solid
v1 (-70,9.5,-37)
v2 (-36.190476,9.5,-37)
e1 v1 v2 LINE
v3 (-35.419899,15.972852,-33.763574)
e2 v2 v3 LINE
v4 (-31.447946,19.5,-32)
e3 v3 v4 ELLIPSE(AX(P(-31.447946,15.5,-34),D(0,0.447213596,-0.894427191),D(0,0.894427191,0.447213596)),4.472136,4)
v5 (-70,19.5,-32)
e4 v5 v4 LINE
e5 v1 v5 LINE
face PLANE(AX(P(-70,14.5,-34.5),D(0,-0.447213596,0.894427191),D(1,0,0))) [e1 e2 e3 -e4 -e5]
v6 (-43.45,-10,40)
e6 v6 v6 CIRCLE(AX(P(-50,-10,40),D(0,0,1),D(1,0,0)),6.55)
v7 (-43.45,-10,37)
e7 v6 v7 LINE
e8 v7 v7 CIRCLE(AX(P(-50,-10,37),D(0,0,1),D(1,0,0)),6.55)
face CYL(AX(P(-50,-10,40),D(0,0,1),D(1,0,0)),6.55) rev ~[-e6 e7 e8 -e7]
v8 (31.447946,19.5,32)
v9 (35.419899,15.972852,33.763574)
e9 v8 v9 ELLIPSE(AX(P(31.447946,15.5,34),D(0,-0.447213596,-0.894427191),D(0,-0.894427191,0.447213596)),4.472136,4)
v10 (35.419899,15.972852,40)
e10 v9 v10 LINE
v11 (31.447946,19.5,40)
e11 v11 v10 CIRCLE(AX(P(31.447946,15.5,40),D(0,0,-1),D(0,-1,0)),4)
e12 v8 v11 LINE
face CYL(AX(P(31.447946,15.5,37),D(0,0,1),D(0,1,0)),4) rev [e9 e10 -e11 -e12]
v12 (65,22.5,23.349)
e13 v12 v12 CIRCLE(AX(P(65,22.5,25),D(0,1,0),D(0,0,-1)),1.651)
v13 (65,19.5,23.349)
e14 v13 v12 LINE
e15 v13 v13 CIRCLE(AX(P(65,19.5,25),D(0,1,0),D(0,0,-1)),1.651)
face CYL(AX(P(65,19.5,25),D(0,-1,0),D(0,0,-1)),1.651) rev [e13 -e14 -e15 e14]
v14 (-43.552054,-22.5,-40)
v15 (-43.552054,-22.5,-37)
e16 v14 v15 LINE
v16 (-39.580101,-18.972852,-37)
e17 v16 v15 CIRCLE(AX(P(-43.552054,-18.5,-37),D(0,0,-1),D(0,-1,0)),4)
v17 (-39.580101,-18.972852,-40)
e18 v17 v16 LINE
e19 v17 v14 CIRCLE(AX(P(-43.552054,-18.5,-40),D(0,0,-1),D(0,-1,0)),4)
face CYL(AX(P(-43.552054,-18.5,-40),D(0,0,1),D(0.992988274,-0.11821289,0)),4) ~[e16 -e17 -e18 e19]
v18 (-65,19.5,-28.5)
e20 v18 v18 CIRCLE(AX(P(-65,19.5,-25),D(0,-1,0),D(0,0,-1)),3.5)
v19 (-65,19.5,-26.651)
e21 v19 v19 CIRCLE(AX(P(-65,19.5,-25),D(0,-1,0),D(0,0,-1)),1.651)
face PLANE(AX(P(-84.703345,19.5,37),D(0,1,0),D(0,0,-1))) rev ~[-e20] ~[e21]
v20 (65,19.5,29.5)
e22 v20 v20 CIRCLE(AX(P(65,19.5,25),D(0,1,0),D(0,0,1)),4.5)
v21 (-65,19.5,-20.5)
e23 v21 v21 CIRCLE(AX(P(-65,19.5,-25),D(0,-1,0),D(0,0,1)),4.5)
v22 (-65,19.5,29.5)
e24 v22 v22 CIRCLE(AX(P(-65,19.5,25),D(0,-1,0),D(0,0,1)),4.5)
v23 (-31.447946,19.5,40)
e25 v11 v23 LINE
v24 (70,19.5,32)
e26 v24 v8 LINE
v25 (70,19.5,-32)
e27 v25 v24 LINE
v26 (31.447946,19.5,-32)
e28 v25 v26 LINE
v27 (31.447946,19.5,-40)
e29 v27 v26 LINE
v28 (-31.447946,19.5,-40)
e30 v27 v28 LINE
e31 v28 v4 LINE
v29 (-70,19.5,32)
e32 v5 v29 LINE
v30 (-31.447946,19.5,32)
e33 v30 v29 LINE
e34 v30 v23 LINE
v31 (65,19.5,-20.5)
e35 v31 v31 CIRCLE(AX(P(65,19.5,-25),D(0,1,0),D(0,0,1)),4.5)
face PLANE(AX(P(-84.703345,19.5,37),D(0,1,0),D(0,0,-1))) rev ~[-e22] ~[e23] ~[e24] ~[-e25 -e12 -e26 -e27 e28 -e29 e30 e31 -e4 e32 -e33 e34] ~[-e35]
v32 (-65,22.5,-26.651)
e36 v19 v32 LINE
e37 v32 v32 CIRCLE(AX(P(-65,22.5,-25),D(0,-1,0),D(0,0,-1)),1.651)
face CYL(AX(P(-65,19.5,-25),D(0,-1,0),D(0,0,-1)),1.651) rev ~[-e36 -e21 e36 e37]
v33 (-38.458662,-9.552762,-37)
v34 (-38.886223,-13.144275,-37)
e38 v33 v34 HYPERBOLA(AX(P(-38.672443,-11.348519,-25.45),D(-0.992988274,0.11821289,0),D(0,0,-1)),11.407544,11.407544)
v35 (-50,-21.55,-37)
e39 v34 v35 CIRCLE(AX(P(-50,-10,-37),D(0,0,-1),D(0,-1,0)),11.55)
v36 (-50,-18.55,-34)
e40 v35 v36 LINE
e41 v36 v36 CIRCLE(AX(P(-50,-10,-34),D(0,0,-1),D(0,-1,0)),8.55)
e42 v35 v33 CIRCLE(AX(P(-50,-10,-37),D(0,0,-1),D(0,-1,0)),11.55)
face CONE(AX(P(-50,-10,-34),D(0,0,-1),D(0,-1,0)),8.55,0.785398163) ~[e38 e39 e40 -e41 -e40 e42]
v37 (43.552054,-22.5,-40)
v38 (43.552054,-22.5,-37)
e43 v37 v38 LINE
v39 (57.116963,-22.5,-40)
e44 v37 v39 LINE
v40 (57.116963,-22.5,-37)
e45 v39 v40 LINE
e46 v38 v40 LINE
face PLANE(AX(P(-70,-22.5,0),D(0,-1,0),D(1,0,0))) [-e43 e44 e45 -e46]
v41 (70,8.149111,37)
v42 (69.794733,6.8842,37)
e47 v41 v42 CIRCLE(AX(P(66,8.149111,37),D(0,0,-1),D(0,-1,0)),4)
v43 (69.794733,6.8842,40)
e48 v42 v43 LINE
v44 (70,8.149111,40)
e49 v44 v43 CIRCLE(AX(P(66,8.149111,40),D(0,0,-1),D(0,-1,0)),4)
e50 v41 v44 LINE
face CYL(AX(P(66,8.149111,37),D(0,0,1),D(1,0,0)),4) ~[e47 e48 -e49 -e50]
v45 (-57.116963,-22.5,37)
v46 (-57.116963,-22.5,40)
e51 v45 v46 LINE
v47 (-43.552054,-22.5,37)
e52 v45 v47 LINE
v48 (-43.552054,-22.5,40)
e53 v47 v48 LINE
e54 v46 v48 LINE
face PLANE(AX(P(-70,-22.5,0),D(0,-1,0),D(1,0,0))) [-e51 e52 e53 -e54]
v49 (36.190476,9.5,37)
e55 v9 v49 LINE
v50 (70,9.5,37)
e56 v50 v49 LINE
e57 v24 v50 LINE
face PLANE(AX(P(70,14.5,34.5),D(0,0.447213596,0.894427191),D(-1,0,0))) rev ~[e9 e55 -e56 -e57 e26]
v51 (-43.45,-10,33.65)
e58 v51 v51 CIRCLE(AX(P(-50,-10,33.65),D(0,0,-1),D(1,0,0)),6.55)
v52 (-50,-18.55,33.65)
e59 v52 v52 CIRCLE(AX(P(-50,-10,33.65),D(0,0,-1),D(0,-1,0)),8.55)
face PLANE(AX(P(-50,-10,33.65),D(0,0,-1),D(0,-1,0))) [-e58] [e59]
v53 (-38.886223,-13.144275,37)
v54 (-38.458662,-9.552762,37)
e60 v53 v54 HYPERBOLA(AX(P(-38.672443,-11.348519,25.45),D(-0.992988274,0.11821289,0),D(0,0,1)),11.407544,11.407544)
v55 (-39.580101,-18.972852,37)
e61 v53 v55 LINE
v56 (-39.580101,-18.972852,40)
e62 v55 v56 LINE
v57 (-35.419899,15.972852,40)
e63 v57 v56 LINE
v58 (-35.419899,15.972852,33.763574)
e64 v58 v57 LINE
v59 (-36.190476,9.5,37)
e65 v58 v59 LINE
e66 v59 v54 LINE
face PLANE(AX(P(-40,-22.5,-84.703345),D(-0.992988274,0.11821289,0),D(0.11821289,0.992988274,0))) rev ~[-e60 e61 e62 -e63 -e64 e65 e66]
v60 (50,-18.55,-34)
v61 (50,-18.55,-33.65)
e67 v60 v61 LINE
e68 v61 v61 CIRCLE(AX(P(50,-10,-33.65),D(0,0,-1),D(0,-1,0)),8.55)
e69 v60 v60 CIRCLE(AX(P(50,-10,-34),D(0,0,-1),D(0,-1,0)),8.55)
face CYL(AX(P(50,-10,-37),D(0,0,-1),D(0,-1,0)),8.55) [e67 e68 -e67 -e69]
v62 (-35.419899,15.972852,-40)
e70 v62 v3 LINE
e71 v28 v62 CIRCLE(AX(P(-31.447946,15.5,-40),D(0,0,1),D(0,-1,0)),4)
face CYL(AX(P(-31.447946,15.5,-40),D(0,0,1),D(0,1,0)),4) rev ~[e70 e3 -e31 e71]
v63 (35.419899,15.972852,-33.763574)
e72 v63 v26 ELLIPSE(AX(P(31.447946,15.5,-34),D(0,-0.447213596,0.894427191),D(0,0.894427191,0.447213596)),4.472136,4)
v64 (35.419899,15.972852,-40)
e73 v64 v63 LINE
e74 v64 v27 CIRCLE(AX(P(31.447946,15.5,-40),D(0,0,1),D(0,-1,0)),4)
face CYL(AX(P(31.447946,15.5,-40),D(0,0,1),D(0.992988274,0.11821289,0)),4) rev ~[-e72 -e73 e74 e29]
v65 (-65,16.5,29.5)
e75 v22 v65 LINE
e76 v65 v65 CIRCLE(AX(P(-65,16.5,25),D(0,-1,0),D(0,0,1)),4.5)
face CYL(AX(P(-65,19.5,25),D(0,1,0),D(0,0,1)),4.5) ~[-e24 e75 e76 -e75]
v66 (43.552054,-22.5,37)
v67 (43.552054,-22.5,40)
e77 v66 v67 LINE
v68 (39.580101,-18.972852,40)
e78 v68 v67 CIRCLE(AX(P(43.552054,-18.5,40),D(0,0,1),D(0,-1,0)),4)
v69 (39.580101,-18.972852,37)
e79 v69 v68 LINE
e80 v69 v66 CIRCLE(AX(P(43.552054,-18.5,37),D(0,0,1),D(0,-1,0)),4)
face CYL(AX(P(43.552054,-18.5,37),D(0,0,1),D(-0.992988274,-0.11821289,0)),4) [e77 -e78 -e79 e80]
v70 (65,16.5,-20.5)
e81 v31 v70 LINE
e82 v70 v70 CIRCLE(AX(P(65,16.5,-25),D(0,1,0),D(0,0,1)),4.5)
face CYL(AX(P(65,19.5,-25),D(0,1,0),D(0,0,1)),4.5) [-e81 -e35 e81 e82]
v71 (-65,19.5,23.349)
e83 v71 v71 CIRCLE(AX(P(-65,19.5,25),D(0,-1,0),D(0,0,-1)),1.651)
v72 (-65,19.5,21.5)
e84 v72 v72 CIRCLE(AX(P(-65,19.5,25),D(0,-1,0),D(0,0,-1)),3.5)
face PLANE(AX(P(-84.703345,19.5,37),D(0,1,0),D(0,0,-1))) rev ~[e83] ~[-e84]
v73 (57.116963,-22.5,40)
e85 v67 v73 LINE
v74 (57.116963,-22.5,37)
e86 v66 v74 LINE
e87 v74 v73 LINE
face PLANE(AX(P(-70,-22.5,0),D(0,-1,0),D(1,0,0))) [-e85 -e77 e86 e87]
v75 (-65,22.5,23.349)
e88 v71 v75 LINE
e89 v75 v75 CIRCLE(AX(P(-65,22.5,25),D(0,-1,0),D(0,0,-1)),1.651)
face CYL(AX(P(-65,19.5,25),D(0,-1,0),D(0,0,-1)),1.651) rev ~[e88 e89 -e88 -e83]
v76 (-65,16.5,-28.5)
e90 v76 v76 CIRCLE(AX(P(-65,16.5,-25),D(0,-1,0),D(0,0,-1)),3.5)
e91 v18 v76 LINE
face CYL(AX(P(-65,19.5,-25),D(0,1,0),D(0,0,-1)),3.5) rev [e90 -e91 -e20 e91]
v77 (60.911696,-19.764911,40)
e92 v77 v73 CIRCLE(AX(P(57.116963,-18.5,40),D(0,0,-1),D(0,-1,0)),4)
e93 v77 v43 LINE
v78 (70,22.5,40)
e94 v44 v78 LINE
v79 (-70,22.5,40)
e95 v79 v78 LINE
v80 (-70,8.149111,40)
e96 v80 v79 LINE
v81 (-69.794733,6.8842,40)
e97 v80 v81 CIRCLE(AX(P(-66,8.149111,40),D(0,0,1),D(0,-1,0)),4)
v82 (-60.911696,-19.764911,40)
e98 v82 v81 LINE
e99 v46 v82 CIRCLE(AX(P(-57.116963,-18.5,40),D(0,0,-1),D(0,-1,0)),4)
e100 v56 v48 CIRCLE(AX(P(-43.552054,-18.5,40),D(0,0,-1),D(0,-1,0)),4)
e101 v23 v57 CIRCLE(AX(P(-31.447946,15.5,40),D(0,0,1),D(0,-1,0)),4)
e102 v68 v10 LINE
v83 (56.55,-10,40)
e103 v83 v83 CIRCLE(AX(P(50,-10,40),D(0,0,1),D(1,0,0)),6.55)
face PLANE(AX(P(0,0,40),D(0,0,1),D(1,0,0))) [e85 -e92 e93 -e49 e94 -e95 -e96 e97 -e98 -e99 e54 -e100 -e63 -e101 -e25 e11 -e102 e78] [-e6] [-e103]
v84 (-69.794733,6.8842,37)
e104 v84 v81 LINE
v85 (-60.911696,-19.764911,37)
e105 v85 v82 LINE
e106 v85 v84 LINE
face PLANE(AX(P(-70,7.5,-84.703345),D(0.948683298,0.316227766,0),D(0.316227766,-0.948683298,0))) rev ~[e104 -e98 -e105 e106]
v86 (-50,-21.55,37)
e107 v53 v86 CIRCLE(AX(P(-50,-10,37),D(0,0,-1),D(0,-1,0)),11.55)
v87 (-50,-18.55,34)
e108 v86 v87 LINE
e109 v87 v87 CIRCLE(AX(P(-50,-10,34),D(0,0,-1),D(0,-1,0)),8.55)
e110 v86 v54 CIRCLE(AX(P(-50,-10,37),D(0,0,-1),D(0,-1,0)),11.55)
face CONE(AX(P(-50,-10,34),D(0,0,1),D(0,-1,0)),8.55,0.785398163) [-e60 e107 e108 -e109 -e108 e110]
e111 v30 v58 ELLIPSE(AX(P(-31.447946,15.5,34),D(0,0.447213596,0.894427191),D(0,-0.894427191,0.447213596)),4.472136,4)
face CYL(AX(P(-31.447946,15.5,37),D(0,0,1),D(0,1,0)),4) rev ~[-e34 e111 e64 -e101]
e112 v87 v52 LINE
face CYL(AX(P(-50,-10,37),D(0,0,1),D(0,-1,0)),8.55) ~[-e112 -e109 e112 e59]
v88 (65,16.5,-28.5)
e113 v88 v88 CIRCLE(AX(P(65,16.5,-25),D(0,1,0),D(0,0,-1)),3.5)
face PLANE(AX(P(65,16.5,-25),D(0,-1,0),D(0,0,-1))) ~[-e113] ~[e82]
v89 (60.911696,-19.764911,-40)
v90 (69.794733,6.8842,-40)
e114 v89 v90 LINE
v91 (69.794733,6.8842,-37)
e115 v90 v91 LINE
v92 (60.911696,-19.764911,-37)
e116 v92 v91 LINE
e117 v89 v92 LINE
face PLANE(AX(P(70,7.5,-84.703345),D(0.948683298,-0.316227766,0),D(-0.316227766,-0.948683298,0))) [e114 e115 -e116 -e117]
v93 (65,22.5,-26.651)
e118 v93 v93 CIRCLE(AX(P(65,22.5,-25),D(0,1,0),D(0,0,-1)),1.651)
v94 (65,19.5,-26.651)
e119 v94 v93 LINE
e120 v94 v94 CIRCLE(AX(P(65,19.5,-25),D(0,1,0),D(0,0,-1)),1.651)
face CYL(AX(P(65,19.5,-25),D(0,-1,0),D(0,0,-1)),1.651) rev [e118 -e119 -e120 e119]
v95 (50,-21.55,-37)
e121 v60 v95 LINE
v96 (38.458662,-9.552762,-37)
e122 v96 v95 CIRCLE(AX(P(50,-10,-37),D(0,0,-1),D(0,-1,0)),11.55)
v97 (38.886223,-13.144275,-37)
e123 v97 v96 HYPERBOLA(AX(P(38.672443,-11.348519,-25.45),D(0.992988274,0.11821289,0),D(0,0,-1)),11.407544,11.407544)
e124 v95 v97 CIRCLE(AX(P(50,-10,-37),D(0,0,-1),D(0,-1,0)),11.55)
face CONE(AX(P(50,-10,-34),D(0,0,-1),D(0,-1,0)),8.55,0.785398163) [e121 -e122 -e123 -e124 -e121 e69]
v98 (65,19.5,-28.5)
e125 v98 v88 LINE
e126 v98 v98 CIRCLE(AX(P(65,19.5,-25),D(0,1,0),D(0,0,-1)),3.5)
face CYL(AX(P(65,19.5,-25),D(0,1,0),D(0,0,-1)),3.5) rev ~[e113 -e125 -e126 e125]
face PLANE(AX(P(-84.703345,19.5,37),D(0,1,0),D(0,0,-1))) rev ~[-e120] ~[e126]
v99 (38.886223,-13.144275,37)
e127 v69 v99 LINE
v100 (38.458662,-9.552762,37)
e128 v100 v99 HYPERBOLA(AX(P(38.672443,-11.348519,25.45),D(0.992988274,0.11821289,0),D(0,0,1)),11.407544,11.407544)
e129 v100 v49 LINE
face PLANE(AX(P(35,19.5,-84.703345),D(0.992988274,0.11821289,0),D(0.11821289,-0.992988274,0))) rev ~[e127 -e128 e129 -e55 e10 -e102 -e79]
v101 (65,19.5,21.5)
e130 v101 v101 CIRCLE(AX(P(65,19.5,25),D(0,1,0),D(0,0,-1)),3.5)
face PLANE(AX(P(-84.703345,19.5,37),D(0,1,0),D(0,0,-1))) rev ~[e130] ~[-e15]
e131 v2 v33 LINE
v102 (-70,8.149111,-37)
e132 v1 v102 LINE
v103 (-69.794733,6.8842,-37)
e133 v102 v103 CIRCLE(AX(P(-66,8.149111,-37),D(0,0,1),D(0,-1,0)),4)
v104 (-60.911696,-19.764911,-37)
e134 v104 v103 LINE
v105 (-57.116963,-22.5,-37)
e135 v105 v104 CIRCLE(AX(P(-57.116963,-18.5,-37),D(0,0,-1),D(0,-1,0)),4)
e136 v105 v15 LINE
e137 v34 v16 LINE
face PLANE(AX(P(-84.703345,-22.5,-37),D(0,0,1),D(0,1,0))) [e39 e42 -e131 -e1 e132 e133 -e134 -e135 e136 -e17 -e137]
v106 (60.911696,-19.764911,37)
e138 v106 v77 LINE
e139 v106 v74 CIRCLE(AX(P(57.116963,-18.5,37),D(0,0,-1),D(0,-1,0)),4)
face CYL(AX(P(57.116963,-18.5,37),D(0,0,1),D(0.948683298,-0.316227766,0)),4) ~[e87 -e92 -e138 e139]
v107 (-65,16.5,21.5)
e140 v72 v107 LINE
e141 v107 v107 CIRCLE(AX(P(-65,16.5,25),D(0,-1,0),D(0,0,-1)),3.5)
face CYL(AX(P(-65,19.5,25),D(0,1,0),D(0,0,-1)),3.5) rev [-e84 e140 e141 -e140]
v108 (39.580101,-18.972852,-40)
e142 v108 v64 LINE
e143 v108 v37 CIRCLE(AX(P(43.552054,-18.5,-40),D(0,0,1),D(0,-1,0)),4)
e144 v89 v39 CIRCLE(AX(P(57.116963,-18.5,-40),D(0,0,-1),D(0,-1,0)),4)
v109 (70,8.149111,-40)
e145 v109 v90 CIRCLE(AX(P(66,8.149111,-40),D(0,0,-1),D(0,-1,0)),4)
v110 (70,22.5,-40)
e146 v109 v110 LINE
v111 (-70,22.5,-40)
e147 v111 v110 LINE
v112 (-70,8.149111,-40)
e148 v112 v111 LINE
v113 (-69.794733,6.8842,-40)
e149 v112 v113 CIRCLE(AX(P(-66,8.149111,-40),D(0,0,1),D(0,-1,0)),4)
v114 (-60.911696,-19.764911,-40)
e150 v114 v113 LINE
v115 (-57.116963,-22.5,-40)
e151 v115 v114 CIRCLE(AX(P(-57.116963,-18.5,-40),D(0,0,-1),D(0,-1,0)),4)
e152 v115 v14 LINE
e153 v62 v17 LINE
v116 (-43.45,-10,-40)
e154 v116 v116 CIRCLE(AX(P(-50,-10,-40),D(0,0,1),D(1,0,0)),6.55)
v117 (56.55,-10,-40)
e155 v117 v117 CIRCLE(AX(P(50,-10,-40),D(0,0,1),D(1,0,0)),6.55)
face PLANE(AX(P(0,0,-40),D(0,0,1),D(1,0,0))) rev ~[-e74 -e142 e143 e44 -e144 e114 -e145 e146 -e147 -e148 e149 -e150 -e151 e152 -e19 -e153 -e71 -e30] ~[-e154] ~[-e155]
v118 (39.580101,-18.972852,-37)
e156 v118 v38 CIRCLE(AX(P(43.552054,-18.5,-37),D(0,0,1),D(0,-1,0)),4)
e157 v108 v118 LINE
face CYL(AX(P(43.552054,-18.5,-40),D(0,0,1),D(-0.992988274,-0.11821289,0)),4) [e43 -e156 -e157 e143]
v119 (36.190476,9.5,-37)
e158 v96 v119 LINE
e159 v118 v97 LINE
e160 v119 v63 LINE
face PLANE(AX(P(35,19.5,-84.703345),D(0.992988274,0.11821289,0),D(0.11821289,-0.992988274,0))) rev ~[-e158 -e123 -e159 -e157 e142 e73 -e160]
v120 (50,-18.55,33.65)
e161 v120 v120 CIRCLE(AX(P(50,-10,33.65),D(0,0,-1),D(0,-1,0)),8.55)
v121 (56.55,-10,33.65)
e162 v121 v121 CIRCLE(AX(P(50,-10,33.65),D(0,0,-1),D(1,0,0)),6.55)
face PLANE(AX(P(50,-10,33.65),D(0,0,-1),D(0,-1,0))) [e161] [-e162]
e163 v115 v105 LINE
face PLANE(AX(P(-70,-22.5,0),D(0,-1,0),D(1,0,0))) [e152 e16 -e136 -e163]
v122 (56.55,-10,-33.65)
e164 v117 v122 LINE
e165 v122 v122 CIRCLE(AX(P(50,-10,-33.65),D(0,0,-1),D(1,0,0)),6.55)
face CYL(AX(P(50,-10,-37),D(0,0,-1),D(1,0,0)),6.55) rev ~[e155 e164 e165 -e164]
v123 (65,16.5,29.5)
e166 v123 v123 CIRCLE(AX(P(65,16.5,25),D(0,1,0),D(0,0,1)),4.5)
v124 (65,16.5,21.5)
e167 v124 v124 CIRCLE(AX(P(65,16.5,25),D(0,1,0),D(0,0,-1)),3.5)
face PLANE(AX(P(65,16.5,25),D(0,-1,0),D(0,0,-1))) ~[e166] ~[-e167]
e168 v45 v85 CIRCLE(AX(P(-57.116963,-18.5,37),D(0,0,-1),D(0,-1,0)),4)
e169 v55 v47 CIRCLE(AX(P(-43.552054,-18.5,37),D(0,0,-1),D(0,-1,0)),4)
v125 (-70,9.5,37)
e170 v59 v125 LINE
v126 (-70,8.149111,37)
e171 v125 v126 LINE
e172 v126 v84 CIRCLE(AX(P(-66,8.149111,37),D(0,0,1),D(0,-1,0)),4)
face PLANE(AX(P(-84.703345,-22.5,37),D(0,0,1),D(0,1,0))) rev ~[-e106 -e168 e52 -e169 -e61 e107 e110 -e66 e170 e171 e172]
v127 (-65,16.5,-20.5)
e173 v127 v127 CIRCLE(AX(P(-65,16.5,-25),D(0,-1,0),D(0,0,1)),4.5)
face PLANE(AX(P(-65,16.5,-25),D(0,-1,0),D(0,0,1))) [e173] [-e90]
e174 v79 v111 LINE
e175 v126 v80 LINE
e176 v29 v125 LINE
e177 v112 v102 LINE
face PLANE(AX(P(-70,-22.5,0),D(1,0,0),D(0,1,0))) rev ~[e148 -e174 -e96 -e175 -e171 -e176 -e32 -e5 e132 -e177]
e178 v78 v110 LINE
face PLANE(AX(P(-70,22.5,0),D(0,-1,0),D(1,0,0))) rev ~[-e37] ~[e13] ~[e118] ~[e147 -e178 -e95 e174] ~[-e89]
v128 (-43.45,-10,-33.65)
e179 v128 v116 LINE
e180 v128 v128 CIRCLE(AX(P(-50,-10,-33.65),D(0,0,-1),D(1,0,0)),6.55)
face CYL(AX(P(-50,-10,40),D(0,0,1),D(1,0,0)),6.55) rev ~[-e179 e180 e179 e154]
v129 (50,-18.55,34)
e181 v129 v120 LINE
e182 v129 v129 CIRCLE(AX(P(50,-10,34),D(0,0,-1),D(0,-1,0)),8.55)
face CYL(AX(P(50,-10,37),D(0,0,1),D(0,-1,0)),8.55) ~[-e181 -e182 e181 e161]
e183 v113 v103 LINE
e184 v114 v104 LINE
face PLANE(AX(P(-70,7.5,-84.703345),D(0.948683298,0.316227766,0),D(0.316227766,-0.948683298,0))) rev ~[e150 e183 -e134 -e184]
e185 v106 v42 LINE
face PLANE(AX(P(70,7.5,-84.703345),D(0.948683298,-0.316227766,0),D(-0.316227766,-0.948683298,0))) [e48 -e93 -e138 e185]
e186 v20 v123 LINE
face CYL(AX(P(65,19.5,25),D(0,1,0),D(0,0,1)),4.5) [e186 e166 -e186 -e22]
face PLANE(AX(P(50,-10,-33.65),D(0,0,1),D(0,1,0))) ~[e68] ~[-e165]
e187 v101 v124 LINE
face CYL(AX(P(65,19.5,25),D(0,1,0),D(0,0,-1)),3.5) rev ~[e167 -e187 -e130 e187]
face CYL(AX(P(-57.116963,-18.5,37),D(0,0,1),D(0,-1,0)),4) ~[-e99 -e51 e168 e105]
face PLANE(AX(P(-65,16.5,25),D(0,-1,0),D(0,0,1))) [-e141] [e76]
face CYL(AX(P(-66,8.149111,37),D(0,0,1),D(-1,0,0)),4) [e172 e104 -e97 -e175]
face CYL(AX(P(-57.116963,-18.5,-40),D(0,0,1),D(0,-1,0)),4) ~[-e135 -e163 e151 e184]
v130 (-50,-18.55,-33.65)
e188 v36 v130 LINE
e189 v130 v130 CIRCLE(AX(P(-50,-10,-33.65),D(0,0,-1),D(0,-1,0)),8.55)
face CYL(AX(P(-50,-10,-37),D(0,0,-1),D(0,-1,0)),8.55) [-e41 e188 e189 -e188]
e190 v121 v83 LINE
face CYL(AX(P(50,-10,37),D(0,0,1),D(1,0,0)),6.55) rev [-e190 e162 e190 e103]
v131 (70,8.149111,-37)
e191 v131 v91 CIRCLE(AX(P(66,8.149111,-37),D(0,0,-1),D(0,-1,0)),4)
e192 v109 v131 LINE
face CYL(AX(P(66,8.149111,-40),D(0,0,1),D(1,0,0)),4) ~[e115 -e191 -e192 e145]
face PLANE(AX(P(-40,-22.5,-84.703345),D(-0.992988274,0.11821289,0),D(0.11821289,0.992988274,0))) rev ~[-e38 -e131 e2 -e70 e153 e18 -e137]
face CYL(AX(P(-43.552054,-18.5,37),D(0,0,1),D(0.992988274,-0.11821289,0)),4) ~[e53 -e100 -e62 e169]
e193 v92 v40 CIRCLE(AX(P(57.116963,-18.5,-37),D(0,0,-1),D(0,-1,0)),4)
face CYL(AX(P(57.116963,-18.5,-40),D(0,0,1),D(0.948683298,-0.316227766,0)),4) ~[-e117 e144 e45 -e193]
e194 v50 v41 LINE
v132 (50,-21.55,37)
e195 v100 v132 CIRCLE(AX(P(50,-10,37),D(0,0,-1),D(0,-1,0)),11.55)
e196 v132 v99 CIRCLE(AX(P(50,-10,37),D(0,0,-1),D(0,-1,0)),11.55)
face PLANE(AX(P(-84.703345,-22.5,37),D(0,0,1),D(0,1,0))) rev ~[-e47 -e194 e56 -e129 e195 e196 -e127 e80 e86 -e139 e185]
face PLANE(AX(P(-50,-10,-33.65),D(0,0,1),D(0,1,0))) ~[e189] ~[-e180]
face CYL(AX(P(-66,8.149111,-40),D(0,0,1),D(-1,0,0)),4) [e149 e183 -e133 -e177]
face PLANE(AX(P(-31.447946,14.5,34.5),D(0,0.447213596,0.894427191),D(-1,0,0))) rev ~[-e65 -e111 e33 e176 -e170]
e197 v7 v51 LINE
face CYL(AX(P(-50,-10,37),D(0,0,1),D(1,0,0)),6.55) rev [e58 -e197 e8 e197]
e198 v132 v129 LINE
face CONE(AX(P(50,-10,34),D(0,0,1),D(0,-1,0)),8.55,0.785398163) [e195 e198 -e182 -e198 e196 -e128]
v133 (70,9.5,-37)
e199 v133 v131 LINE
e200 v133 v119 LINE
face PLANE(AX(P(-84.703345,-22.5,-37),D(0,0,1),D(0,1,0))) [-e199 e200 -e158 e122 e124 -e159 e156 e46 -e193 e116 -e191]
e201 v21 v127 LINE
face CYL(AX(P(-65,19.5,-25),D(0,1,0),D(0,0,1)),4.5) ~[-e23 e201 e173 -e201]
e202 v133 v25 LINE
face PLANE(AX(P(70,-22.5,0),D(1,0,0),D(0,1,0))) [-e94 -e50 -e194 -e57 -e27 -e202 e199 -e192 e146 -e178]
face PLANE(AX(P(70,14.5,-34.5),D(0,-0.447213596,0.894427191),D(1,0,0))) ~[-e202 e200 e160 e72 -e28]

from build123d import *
from OCP.BRepFilletAPI import BRepFilletAPI_MakeChamfer

# Parameters (mm, degrees)
CROQUIS1_W                 = 140
CROQUIS1_H                 = 45
SALIENTE_EXTRUIR1_DEPTH    = 40
CORTAR_EXTRUIR1_DEPTH      = 84.703345214
CORTAR_EXTRUIR1_DEPTH_BACK = 84.703345214
CROQUIS2_W                 = 74
CROQUIS2_H                 = 42
CROQUIS3_R                 = 6.55
CORTAR_EXTRUIR2_DEPTH      = 80
CROQUIS10_R                = 8.55
CROQUIS10_R_2              = 6.55
SALIENTE_EXTRUIR3_DEPTH    = 3.35
CORTAR_EXTRUIR3_REACH      = 92.907
CROQUIS4_R                 = 1.651
CROQUIS5_R                 = 4.5
CROQUIS5_R_2               = 3.5
SALIENTE_EXTRUIR2_DEPTH    = 3
CHAFL_N3_SIZE              = 3
CORTAR_EXTRUIR5_DEPTH      = 84.703345214
CORTAR_EXTRUIR5_DEPTH_BACK = 84.703345214
REDONDEO1_R                = 4
CHAFL_N1_SIZE              = 10
CHAFL_N1_SIZE2             = 5
CHAFL_N2_SIZE              = 5
CHAFL_N2_SIZE2             = 10


with BuildPart() as part:
    # Croquis1 → Saliente-Extruir1 (new, symmetric)
    with BuildSketch(Plane.XY):
        Rectangle(CROQUIS1_W, CROQUIS1_H)
    extrude(amount=SALIENTE_EXTRUIR1_DEPTH, both=True)

    # Croquis2 → Cortar-Extruir1 (cut, two sides: drawn at the far end of the back side and taken through both)
    with BuildSketch(Plane(origin=(0, 0, 0), x_dir=(0, 0, -1), z_dir=(1, 0, 0)).offset(-CORTAR_EXTRUIR1_DEPTH_BACK)):
        with Locations((0, -1.5)):
            Rectangle(CROQUIS2_W, CROQUIS2_H)
    extrude(amount=CORTAR_EXTRUIR1_DEPTH + CORTAR_EXTRUIR1_DEPTH_BACK, mode=Mode.SUBTRACT)

    # Croquis3 → Cortar-Extruir2 (cut)
    with BuildSketch(Plane.XY.offset(40)):
        with Locations((50, -10)):
            Circle(CROQUIS3_R)
        with Locations((-50, -10)):
            Circle(CROQUIS3_R)
    extrude(amount=-CORTAR_EXTRUIR2_DEPTH, mode=Mode.SUBTRACT)

    # Croquis10 → Saliente-Extruir3 (add)
    # profile 1 of 2: a face of its own
    with BuildSketch(Plane(origin=(0, 0, 37), x_dir=(-1, 0, 0), z_dir=(0, 0, -1))):
        with Locations(Location((-50, -10, 0), (0, 0, 270))):
            Circle(CROQUIS10_R)
        with Locations(Location((-50, -10, 0), (0, 0, 180))):
            Circle(CROQUIS10_R_2, mode=Mode.SUBTRACT)
    # profile 2 of 2: a face of its own
    with BuildSketch(Plane(origin=(0, 0, 37), x_dir=(-1, 0, 0), z_dir=(0, 0, -1))):
        with Locations(Location((50, -10, 0), (0, 0, 270))):
            Circle(CROQUIS10_R)
        with Locations(Location((50, -10, 0), (0, 0, 180))):
            Circle(CROQUIS10_R_2, mode=Mode.SUBTRACT)
    saliente_extruir3 = extrude(amount=SALIENTE_EXTRUIR3_DEPTH)

    # Simetría1: Saliente-Extruir3 across plane
    add(saliente_extruir3.mirror(Plane.XY))

    # Croquis4 → Cortar-Extruir3 (cut, up to next)
    with BuildSketch(Plane.XZ.offset(-19.5), mode=Mode.PRIVATE) as cortar_extruir3_sk1:
        with Locations(Location((-65, 25, 0), (0, 0, 270))):
            Circle(CROQUIS4_R)
    cortar_extruir3_tool1 = extrude(cortar_extruir3_sk1.sketch, amount=-CORTAR_EXTRUIR3_REACH, mode=Mode.PRIVATE) & part.part
    # Croquis4 → Cortar-Extruir3 (cut, up to next)
    with BuildSketch(Plane.XZ.offset(-19.5), mode=Mode.PRIVATE) as cortar_extruir3_sk2:
        with Locations(Location((-65, -25, 0), (0, 0, 270))):
            Circle(CROQUIS4_R)
    cortar_extruir3_tool2 = extrude(cortar_extruir3_sk2.sketch, amount=-CORTAR_EXTRUIR3_REACH, mode=Mode.PRIVATE) & part.part
    cortar_extruir3_1 = cortar_extruir3_tool1.solids().sort_by_distance((-65, 19.5, 25))[0]
    add(cortar_extruir3_1, mode=Mode.SUBTRACT)
    cortar_extruir3_2 = cortar_extruir3_tool2.solids().sort_by_distance((-65, 19.5, -25))[0]
    add(cortar_extruir3_2, mode=Mode.SUBTRACT)
    cortar_extruir3 = cortar_extruir3_1 + cortar_extruir3_2  # Cortar-Extruir3 as one shape, for the pattern or mirror that repeats it

    # Croquis5 → Saliente-Extruir2 (add)
    # profile 1 of 2: a face of its own
    with BuildSketch(Plane.XZ.offset(-19.5)):
        with Locations(Location((-65, 25, 0), (0, 0, 90))):
            Circle(CROQUIS5_R)
        with Locations(Location((-65, 25, 0), (0, 0, 270))):
            Circle(CROQUIS5_R_2, mode=Mode.SUBTRACT)
    # profile 2 of 2: a face of its own
    with BuildSketch(Plane.XZ.offset(-19.5)):
        with Locations(Location((-65, -25, 0), (0, 0, 90))):
            Circle(CROQUIS5_R)
        with Locations(Location((-65, -25, 0), (0, 0, 270))):
            Circle(CROQUIS5_R_2, mode=Mode.SUBTRACT)
    saliente_extruir2 = extrude(amount=SALIENTE_EXTRUIR2_DEPTH)

    # Simetría2: Cortar-Extruir3, Saliente-Extruir2 across plane
    add(cortar_extruir3.mirror(Plane(origin=(0, 0, 0), x_dir=(0, 0, 1), z_dir=(1, 0, 0))), mode=Mode.SUBTRACT)
    add(saliente_extruir2.mirror(Plane(origin=(0, 0, 0), x_dir=(0, 0, 1), z_dir=(1, 0, 0))))

    # Chaflán3
    chafl_n3_edges = [part.edges().sort_by_distance(p)[0] for p in [
        (50, -1.45, 37),
        (-50, -1.45, 37),
        (50, -1.45, -37),
        (-50, -1.45, -37),
    ]]
    chamfer(chafl_n3_edges, length=CHAFL_N3_SIZE)

    # Croquis9 → Cortar-Extruir5 (cut, two sides: drawn at the far end of the back side and taken through both)
    with BuildSketch(Plane.XY.offset(-CORTAR_EXTRUIR5_DEPTH_BACK)):
        Polygon((-40, -22.5), (-35, 19.5), (35, 19.5), (40, -22.5), align=None)
        Polygon((-70, 7.5), (-60, -22.5), (-70, -22.5), align=None)
        Polygon((70, 7.5), (60, -22.5), (70, -22.5), align=None)
    extrude(amount=CORTAR_EXTRUIR5_DEPTH + CORTAR_EXTRUIR5_DEPTH_BACK, mode=Mode.SUBTRACT)

    # Redondeo1
    redondeo1_edges = [part.edges().sort_by_distance(p)[0] for p in [
        (40, -22.5, 38.5),
        (40, -22.5, -38.5),
        (-35, 19.5, 38.5),
        (-35, 19.5, -38.5),
        (-40, -22.5, -38.5),
        (-40, -22.5, 38.5),
        (35, 19.5, -38.5),
        (35, 19.5, 38.5),
        (-70, 7.5, 38.5),
        (-70, 7.5, -38.5),
        (-60, -22.5, 38.5),
        (-60, -22.5, -38.5),
        (70, 7.5, 38.5),
        (70, 7.5, -38.5),
        (60, -22.5, 38.5),
        (60, -22.5, -38.5),
    ]]
    fillet(redondeo1_edges, radius=REDONDEO1_R)

    # Chaflán1: one chamfer whose edges measure the first distance from different faces: ONE call of the kernel's chamfer builder (chamfer() names one face for all edges)
    chafl_n1_edges_1 = [part.edges().sort_by_distance(p)[0] for p in [
        (50.723972764, 19.5, -37),
    ]]
    chafl_n1_side_1 = [part.faces().sort_by_distance(p)[0] for p in [
        (53.195449018, 6.150722288, -37),
    ]]
    chafl_n1_edges_2 = [part.edges().sort_by_distance(p)[0] for p in [
        (-50.723972764, 19.5, -37),
    ]]
    chafl_n1_side_2 = [part.faces().sort_by_distance(p)[0] for p in [
        (-53.195449018, 6.150722288, -37),
    ]]
    chafl_n1 = BRepFilletAPI_MakeChamfer(part.part.solid().wrapped)
    for e in chafl_n1_edges_1:
        chafl_n1.Add(CHAFL_N1_SIZE, CHAFL_N1_SIZE2, e.wrapped, chafl_n1_side_1[0].wrapped)  # the first distance lies on this face
    for e in chafl_n1_edges_2:
        chafl_n1.Add(CHAFL_N1_SIZE, CHAFL_N1_SIZE2, e.wrapped, chafl_n1_side_2[0].wrapped)  # the first distance lies on this face
    add(Compound.cast(chafl_n1.Shape()), mode=Mode.REPLACE)

    # Chaflán2
    chafl_n2_edges = [part.edges().sort_by_distance(p)[0] for p in [
        (50.723972764, 19.5, 37),
        (-50.723972764, 19.5, 37),
    ]]
    chafl_n2_side = [part.faces().sort_by_distance(p)[0] for p in [
        (0, 19.5, 1.317218046),
    ]]
    chamfer(chafl_n2_edges, length=CHAFL_N2_SIZE, length2=CHAFL_N2_SIZE2, reference=chafl_n2_side[0])


solid = part.part
